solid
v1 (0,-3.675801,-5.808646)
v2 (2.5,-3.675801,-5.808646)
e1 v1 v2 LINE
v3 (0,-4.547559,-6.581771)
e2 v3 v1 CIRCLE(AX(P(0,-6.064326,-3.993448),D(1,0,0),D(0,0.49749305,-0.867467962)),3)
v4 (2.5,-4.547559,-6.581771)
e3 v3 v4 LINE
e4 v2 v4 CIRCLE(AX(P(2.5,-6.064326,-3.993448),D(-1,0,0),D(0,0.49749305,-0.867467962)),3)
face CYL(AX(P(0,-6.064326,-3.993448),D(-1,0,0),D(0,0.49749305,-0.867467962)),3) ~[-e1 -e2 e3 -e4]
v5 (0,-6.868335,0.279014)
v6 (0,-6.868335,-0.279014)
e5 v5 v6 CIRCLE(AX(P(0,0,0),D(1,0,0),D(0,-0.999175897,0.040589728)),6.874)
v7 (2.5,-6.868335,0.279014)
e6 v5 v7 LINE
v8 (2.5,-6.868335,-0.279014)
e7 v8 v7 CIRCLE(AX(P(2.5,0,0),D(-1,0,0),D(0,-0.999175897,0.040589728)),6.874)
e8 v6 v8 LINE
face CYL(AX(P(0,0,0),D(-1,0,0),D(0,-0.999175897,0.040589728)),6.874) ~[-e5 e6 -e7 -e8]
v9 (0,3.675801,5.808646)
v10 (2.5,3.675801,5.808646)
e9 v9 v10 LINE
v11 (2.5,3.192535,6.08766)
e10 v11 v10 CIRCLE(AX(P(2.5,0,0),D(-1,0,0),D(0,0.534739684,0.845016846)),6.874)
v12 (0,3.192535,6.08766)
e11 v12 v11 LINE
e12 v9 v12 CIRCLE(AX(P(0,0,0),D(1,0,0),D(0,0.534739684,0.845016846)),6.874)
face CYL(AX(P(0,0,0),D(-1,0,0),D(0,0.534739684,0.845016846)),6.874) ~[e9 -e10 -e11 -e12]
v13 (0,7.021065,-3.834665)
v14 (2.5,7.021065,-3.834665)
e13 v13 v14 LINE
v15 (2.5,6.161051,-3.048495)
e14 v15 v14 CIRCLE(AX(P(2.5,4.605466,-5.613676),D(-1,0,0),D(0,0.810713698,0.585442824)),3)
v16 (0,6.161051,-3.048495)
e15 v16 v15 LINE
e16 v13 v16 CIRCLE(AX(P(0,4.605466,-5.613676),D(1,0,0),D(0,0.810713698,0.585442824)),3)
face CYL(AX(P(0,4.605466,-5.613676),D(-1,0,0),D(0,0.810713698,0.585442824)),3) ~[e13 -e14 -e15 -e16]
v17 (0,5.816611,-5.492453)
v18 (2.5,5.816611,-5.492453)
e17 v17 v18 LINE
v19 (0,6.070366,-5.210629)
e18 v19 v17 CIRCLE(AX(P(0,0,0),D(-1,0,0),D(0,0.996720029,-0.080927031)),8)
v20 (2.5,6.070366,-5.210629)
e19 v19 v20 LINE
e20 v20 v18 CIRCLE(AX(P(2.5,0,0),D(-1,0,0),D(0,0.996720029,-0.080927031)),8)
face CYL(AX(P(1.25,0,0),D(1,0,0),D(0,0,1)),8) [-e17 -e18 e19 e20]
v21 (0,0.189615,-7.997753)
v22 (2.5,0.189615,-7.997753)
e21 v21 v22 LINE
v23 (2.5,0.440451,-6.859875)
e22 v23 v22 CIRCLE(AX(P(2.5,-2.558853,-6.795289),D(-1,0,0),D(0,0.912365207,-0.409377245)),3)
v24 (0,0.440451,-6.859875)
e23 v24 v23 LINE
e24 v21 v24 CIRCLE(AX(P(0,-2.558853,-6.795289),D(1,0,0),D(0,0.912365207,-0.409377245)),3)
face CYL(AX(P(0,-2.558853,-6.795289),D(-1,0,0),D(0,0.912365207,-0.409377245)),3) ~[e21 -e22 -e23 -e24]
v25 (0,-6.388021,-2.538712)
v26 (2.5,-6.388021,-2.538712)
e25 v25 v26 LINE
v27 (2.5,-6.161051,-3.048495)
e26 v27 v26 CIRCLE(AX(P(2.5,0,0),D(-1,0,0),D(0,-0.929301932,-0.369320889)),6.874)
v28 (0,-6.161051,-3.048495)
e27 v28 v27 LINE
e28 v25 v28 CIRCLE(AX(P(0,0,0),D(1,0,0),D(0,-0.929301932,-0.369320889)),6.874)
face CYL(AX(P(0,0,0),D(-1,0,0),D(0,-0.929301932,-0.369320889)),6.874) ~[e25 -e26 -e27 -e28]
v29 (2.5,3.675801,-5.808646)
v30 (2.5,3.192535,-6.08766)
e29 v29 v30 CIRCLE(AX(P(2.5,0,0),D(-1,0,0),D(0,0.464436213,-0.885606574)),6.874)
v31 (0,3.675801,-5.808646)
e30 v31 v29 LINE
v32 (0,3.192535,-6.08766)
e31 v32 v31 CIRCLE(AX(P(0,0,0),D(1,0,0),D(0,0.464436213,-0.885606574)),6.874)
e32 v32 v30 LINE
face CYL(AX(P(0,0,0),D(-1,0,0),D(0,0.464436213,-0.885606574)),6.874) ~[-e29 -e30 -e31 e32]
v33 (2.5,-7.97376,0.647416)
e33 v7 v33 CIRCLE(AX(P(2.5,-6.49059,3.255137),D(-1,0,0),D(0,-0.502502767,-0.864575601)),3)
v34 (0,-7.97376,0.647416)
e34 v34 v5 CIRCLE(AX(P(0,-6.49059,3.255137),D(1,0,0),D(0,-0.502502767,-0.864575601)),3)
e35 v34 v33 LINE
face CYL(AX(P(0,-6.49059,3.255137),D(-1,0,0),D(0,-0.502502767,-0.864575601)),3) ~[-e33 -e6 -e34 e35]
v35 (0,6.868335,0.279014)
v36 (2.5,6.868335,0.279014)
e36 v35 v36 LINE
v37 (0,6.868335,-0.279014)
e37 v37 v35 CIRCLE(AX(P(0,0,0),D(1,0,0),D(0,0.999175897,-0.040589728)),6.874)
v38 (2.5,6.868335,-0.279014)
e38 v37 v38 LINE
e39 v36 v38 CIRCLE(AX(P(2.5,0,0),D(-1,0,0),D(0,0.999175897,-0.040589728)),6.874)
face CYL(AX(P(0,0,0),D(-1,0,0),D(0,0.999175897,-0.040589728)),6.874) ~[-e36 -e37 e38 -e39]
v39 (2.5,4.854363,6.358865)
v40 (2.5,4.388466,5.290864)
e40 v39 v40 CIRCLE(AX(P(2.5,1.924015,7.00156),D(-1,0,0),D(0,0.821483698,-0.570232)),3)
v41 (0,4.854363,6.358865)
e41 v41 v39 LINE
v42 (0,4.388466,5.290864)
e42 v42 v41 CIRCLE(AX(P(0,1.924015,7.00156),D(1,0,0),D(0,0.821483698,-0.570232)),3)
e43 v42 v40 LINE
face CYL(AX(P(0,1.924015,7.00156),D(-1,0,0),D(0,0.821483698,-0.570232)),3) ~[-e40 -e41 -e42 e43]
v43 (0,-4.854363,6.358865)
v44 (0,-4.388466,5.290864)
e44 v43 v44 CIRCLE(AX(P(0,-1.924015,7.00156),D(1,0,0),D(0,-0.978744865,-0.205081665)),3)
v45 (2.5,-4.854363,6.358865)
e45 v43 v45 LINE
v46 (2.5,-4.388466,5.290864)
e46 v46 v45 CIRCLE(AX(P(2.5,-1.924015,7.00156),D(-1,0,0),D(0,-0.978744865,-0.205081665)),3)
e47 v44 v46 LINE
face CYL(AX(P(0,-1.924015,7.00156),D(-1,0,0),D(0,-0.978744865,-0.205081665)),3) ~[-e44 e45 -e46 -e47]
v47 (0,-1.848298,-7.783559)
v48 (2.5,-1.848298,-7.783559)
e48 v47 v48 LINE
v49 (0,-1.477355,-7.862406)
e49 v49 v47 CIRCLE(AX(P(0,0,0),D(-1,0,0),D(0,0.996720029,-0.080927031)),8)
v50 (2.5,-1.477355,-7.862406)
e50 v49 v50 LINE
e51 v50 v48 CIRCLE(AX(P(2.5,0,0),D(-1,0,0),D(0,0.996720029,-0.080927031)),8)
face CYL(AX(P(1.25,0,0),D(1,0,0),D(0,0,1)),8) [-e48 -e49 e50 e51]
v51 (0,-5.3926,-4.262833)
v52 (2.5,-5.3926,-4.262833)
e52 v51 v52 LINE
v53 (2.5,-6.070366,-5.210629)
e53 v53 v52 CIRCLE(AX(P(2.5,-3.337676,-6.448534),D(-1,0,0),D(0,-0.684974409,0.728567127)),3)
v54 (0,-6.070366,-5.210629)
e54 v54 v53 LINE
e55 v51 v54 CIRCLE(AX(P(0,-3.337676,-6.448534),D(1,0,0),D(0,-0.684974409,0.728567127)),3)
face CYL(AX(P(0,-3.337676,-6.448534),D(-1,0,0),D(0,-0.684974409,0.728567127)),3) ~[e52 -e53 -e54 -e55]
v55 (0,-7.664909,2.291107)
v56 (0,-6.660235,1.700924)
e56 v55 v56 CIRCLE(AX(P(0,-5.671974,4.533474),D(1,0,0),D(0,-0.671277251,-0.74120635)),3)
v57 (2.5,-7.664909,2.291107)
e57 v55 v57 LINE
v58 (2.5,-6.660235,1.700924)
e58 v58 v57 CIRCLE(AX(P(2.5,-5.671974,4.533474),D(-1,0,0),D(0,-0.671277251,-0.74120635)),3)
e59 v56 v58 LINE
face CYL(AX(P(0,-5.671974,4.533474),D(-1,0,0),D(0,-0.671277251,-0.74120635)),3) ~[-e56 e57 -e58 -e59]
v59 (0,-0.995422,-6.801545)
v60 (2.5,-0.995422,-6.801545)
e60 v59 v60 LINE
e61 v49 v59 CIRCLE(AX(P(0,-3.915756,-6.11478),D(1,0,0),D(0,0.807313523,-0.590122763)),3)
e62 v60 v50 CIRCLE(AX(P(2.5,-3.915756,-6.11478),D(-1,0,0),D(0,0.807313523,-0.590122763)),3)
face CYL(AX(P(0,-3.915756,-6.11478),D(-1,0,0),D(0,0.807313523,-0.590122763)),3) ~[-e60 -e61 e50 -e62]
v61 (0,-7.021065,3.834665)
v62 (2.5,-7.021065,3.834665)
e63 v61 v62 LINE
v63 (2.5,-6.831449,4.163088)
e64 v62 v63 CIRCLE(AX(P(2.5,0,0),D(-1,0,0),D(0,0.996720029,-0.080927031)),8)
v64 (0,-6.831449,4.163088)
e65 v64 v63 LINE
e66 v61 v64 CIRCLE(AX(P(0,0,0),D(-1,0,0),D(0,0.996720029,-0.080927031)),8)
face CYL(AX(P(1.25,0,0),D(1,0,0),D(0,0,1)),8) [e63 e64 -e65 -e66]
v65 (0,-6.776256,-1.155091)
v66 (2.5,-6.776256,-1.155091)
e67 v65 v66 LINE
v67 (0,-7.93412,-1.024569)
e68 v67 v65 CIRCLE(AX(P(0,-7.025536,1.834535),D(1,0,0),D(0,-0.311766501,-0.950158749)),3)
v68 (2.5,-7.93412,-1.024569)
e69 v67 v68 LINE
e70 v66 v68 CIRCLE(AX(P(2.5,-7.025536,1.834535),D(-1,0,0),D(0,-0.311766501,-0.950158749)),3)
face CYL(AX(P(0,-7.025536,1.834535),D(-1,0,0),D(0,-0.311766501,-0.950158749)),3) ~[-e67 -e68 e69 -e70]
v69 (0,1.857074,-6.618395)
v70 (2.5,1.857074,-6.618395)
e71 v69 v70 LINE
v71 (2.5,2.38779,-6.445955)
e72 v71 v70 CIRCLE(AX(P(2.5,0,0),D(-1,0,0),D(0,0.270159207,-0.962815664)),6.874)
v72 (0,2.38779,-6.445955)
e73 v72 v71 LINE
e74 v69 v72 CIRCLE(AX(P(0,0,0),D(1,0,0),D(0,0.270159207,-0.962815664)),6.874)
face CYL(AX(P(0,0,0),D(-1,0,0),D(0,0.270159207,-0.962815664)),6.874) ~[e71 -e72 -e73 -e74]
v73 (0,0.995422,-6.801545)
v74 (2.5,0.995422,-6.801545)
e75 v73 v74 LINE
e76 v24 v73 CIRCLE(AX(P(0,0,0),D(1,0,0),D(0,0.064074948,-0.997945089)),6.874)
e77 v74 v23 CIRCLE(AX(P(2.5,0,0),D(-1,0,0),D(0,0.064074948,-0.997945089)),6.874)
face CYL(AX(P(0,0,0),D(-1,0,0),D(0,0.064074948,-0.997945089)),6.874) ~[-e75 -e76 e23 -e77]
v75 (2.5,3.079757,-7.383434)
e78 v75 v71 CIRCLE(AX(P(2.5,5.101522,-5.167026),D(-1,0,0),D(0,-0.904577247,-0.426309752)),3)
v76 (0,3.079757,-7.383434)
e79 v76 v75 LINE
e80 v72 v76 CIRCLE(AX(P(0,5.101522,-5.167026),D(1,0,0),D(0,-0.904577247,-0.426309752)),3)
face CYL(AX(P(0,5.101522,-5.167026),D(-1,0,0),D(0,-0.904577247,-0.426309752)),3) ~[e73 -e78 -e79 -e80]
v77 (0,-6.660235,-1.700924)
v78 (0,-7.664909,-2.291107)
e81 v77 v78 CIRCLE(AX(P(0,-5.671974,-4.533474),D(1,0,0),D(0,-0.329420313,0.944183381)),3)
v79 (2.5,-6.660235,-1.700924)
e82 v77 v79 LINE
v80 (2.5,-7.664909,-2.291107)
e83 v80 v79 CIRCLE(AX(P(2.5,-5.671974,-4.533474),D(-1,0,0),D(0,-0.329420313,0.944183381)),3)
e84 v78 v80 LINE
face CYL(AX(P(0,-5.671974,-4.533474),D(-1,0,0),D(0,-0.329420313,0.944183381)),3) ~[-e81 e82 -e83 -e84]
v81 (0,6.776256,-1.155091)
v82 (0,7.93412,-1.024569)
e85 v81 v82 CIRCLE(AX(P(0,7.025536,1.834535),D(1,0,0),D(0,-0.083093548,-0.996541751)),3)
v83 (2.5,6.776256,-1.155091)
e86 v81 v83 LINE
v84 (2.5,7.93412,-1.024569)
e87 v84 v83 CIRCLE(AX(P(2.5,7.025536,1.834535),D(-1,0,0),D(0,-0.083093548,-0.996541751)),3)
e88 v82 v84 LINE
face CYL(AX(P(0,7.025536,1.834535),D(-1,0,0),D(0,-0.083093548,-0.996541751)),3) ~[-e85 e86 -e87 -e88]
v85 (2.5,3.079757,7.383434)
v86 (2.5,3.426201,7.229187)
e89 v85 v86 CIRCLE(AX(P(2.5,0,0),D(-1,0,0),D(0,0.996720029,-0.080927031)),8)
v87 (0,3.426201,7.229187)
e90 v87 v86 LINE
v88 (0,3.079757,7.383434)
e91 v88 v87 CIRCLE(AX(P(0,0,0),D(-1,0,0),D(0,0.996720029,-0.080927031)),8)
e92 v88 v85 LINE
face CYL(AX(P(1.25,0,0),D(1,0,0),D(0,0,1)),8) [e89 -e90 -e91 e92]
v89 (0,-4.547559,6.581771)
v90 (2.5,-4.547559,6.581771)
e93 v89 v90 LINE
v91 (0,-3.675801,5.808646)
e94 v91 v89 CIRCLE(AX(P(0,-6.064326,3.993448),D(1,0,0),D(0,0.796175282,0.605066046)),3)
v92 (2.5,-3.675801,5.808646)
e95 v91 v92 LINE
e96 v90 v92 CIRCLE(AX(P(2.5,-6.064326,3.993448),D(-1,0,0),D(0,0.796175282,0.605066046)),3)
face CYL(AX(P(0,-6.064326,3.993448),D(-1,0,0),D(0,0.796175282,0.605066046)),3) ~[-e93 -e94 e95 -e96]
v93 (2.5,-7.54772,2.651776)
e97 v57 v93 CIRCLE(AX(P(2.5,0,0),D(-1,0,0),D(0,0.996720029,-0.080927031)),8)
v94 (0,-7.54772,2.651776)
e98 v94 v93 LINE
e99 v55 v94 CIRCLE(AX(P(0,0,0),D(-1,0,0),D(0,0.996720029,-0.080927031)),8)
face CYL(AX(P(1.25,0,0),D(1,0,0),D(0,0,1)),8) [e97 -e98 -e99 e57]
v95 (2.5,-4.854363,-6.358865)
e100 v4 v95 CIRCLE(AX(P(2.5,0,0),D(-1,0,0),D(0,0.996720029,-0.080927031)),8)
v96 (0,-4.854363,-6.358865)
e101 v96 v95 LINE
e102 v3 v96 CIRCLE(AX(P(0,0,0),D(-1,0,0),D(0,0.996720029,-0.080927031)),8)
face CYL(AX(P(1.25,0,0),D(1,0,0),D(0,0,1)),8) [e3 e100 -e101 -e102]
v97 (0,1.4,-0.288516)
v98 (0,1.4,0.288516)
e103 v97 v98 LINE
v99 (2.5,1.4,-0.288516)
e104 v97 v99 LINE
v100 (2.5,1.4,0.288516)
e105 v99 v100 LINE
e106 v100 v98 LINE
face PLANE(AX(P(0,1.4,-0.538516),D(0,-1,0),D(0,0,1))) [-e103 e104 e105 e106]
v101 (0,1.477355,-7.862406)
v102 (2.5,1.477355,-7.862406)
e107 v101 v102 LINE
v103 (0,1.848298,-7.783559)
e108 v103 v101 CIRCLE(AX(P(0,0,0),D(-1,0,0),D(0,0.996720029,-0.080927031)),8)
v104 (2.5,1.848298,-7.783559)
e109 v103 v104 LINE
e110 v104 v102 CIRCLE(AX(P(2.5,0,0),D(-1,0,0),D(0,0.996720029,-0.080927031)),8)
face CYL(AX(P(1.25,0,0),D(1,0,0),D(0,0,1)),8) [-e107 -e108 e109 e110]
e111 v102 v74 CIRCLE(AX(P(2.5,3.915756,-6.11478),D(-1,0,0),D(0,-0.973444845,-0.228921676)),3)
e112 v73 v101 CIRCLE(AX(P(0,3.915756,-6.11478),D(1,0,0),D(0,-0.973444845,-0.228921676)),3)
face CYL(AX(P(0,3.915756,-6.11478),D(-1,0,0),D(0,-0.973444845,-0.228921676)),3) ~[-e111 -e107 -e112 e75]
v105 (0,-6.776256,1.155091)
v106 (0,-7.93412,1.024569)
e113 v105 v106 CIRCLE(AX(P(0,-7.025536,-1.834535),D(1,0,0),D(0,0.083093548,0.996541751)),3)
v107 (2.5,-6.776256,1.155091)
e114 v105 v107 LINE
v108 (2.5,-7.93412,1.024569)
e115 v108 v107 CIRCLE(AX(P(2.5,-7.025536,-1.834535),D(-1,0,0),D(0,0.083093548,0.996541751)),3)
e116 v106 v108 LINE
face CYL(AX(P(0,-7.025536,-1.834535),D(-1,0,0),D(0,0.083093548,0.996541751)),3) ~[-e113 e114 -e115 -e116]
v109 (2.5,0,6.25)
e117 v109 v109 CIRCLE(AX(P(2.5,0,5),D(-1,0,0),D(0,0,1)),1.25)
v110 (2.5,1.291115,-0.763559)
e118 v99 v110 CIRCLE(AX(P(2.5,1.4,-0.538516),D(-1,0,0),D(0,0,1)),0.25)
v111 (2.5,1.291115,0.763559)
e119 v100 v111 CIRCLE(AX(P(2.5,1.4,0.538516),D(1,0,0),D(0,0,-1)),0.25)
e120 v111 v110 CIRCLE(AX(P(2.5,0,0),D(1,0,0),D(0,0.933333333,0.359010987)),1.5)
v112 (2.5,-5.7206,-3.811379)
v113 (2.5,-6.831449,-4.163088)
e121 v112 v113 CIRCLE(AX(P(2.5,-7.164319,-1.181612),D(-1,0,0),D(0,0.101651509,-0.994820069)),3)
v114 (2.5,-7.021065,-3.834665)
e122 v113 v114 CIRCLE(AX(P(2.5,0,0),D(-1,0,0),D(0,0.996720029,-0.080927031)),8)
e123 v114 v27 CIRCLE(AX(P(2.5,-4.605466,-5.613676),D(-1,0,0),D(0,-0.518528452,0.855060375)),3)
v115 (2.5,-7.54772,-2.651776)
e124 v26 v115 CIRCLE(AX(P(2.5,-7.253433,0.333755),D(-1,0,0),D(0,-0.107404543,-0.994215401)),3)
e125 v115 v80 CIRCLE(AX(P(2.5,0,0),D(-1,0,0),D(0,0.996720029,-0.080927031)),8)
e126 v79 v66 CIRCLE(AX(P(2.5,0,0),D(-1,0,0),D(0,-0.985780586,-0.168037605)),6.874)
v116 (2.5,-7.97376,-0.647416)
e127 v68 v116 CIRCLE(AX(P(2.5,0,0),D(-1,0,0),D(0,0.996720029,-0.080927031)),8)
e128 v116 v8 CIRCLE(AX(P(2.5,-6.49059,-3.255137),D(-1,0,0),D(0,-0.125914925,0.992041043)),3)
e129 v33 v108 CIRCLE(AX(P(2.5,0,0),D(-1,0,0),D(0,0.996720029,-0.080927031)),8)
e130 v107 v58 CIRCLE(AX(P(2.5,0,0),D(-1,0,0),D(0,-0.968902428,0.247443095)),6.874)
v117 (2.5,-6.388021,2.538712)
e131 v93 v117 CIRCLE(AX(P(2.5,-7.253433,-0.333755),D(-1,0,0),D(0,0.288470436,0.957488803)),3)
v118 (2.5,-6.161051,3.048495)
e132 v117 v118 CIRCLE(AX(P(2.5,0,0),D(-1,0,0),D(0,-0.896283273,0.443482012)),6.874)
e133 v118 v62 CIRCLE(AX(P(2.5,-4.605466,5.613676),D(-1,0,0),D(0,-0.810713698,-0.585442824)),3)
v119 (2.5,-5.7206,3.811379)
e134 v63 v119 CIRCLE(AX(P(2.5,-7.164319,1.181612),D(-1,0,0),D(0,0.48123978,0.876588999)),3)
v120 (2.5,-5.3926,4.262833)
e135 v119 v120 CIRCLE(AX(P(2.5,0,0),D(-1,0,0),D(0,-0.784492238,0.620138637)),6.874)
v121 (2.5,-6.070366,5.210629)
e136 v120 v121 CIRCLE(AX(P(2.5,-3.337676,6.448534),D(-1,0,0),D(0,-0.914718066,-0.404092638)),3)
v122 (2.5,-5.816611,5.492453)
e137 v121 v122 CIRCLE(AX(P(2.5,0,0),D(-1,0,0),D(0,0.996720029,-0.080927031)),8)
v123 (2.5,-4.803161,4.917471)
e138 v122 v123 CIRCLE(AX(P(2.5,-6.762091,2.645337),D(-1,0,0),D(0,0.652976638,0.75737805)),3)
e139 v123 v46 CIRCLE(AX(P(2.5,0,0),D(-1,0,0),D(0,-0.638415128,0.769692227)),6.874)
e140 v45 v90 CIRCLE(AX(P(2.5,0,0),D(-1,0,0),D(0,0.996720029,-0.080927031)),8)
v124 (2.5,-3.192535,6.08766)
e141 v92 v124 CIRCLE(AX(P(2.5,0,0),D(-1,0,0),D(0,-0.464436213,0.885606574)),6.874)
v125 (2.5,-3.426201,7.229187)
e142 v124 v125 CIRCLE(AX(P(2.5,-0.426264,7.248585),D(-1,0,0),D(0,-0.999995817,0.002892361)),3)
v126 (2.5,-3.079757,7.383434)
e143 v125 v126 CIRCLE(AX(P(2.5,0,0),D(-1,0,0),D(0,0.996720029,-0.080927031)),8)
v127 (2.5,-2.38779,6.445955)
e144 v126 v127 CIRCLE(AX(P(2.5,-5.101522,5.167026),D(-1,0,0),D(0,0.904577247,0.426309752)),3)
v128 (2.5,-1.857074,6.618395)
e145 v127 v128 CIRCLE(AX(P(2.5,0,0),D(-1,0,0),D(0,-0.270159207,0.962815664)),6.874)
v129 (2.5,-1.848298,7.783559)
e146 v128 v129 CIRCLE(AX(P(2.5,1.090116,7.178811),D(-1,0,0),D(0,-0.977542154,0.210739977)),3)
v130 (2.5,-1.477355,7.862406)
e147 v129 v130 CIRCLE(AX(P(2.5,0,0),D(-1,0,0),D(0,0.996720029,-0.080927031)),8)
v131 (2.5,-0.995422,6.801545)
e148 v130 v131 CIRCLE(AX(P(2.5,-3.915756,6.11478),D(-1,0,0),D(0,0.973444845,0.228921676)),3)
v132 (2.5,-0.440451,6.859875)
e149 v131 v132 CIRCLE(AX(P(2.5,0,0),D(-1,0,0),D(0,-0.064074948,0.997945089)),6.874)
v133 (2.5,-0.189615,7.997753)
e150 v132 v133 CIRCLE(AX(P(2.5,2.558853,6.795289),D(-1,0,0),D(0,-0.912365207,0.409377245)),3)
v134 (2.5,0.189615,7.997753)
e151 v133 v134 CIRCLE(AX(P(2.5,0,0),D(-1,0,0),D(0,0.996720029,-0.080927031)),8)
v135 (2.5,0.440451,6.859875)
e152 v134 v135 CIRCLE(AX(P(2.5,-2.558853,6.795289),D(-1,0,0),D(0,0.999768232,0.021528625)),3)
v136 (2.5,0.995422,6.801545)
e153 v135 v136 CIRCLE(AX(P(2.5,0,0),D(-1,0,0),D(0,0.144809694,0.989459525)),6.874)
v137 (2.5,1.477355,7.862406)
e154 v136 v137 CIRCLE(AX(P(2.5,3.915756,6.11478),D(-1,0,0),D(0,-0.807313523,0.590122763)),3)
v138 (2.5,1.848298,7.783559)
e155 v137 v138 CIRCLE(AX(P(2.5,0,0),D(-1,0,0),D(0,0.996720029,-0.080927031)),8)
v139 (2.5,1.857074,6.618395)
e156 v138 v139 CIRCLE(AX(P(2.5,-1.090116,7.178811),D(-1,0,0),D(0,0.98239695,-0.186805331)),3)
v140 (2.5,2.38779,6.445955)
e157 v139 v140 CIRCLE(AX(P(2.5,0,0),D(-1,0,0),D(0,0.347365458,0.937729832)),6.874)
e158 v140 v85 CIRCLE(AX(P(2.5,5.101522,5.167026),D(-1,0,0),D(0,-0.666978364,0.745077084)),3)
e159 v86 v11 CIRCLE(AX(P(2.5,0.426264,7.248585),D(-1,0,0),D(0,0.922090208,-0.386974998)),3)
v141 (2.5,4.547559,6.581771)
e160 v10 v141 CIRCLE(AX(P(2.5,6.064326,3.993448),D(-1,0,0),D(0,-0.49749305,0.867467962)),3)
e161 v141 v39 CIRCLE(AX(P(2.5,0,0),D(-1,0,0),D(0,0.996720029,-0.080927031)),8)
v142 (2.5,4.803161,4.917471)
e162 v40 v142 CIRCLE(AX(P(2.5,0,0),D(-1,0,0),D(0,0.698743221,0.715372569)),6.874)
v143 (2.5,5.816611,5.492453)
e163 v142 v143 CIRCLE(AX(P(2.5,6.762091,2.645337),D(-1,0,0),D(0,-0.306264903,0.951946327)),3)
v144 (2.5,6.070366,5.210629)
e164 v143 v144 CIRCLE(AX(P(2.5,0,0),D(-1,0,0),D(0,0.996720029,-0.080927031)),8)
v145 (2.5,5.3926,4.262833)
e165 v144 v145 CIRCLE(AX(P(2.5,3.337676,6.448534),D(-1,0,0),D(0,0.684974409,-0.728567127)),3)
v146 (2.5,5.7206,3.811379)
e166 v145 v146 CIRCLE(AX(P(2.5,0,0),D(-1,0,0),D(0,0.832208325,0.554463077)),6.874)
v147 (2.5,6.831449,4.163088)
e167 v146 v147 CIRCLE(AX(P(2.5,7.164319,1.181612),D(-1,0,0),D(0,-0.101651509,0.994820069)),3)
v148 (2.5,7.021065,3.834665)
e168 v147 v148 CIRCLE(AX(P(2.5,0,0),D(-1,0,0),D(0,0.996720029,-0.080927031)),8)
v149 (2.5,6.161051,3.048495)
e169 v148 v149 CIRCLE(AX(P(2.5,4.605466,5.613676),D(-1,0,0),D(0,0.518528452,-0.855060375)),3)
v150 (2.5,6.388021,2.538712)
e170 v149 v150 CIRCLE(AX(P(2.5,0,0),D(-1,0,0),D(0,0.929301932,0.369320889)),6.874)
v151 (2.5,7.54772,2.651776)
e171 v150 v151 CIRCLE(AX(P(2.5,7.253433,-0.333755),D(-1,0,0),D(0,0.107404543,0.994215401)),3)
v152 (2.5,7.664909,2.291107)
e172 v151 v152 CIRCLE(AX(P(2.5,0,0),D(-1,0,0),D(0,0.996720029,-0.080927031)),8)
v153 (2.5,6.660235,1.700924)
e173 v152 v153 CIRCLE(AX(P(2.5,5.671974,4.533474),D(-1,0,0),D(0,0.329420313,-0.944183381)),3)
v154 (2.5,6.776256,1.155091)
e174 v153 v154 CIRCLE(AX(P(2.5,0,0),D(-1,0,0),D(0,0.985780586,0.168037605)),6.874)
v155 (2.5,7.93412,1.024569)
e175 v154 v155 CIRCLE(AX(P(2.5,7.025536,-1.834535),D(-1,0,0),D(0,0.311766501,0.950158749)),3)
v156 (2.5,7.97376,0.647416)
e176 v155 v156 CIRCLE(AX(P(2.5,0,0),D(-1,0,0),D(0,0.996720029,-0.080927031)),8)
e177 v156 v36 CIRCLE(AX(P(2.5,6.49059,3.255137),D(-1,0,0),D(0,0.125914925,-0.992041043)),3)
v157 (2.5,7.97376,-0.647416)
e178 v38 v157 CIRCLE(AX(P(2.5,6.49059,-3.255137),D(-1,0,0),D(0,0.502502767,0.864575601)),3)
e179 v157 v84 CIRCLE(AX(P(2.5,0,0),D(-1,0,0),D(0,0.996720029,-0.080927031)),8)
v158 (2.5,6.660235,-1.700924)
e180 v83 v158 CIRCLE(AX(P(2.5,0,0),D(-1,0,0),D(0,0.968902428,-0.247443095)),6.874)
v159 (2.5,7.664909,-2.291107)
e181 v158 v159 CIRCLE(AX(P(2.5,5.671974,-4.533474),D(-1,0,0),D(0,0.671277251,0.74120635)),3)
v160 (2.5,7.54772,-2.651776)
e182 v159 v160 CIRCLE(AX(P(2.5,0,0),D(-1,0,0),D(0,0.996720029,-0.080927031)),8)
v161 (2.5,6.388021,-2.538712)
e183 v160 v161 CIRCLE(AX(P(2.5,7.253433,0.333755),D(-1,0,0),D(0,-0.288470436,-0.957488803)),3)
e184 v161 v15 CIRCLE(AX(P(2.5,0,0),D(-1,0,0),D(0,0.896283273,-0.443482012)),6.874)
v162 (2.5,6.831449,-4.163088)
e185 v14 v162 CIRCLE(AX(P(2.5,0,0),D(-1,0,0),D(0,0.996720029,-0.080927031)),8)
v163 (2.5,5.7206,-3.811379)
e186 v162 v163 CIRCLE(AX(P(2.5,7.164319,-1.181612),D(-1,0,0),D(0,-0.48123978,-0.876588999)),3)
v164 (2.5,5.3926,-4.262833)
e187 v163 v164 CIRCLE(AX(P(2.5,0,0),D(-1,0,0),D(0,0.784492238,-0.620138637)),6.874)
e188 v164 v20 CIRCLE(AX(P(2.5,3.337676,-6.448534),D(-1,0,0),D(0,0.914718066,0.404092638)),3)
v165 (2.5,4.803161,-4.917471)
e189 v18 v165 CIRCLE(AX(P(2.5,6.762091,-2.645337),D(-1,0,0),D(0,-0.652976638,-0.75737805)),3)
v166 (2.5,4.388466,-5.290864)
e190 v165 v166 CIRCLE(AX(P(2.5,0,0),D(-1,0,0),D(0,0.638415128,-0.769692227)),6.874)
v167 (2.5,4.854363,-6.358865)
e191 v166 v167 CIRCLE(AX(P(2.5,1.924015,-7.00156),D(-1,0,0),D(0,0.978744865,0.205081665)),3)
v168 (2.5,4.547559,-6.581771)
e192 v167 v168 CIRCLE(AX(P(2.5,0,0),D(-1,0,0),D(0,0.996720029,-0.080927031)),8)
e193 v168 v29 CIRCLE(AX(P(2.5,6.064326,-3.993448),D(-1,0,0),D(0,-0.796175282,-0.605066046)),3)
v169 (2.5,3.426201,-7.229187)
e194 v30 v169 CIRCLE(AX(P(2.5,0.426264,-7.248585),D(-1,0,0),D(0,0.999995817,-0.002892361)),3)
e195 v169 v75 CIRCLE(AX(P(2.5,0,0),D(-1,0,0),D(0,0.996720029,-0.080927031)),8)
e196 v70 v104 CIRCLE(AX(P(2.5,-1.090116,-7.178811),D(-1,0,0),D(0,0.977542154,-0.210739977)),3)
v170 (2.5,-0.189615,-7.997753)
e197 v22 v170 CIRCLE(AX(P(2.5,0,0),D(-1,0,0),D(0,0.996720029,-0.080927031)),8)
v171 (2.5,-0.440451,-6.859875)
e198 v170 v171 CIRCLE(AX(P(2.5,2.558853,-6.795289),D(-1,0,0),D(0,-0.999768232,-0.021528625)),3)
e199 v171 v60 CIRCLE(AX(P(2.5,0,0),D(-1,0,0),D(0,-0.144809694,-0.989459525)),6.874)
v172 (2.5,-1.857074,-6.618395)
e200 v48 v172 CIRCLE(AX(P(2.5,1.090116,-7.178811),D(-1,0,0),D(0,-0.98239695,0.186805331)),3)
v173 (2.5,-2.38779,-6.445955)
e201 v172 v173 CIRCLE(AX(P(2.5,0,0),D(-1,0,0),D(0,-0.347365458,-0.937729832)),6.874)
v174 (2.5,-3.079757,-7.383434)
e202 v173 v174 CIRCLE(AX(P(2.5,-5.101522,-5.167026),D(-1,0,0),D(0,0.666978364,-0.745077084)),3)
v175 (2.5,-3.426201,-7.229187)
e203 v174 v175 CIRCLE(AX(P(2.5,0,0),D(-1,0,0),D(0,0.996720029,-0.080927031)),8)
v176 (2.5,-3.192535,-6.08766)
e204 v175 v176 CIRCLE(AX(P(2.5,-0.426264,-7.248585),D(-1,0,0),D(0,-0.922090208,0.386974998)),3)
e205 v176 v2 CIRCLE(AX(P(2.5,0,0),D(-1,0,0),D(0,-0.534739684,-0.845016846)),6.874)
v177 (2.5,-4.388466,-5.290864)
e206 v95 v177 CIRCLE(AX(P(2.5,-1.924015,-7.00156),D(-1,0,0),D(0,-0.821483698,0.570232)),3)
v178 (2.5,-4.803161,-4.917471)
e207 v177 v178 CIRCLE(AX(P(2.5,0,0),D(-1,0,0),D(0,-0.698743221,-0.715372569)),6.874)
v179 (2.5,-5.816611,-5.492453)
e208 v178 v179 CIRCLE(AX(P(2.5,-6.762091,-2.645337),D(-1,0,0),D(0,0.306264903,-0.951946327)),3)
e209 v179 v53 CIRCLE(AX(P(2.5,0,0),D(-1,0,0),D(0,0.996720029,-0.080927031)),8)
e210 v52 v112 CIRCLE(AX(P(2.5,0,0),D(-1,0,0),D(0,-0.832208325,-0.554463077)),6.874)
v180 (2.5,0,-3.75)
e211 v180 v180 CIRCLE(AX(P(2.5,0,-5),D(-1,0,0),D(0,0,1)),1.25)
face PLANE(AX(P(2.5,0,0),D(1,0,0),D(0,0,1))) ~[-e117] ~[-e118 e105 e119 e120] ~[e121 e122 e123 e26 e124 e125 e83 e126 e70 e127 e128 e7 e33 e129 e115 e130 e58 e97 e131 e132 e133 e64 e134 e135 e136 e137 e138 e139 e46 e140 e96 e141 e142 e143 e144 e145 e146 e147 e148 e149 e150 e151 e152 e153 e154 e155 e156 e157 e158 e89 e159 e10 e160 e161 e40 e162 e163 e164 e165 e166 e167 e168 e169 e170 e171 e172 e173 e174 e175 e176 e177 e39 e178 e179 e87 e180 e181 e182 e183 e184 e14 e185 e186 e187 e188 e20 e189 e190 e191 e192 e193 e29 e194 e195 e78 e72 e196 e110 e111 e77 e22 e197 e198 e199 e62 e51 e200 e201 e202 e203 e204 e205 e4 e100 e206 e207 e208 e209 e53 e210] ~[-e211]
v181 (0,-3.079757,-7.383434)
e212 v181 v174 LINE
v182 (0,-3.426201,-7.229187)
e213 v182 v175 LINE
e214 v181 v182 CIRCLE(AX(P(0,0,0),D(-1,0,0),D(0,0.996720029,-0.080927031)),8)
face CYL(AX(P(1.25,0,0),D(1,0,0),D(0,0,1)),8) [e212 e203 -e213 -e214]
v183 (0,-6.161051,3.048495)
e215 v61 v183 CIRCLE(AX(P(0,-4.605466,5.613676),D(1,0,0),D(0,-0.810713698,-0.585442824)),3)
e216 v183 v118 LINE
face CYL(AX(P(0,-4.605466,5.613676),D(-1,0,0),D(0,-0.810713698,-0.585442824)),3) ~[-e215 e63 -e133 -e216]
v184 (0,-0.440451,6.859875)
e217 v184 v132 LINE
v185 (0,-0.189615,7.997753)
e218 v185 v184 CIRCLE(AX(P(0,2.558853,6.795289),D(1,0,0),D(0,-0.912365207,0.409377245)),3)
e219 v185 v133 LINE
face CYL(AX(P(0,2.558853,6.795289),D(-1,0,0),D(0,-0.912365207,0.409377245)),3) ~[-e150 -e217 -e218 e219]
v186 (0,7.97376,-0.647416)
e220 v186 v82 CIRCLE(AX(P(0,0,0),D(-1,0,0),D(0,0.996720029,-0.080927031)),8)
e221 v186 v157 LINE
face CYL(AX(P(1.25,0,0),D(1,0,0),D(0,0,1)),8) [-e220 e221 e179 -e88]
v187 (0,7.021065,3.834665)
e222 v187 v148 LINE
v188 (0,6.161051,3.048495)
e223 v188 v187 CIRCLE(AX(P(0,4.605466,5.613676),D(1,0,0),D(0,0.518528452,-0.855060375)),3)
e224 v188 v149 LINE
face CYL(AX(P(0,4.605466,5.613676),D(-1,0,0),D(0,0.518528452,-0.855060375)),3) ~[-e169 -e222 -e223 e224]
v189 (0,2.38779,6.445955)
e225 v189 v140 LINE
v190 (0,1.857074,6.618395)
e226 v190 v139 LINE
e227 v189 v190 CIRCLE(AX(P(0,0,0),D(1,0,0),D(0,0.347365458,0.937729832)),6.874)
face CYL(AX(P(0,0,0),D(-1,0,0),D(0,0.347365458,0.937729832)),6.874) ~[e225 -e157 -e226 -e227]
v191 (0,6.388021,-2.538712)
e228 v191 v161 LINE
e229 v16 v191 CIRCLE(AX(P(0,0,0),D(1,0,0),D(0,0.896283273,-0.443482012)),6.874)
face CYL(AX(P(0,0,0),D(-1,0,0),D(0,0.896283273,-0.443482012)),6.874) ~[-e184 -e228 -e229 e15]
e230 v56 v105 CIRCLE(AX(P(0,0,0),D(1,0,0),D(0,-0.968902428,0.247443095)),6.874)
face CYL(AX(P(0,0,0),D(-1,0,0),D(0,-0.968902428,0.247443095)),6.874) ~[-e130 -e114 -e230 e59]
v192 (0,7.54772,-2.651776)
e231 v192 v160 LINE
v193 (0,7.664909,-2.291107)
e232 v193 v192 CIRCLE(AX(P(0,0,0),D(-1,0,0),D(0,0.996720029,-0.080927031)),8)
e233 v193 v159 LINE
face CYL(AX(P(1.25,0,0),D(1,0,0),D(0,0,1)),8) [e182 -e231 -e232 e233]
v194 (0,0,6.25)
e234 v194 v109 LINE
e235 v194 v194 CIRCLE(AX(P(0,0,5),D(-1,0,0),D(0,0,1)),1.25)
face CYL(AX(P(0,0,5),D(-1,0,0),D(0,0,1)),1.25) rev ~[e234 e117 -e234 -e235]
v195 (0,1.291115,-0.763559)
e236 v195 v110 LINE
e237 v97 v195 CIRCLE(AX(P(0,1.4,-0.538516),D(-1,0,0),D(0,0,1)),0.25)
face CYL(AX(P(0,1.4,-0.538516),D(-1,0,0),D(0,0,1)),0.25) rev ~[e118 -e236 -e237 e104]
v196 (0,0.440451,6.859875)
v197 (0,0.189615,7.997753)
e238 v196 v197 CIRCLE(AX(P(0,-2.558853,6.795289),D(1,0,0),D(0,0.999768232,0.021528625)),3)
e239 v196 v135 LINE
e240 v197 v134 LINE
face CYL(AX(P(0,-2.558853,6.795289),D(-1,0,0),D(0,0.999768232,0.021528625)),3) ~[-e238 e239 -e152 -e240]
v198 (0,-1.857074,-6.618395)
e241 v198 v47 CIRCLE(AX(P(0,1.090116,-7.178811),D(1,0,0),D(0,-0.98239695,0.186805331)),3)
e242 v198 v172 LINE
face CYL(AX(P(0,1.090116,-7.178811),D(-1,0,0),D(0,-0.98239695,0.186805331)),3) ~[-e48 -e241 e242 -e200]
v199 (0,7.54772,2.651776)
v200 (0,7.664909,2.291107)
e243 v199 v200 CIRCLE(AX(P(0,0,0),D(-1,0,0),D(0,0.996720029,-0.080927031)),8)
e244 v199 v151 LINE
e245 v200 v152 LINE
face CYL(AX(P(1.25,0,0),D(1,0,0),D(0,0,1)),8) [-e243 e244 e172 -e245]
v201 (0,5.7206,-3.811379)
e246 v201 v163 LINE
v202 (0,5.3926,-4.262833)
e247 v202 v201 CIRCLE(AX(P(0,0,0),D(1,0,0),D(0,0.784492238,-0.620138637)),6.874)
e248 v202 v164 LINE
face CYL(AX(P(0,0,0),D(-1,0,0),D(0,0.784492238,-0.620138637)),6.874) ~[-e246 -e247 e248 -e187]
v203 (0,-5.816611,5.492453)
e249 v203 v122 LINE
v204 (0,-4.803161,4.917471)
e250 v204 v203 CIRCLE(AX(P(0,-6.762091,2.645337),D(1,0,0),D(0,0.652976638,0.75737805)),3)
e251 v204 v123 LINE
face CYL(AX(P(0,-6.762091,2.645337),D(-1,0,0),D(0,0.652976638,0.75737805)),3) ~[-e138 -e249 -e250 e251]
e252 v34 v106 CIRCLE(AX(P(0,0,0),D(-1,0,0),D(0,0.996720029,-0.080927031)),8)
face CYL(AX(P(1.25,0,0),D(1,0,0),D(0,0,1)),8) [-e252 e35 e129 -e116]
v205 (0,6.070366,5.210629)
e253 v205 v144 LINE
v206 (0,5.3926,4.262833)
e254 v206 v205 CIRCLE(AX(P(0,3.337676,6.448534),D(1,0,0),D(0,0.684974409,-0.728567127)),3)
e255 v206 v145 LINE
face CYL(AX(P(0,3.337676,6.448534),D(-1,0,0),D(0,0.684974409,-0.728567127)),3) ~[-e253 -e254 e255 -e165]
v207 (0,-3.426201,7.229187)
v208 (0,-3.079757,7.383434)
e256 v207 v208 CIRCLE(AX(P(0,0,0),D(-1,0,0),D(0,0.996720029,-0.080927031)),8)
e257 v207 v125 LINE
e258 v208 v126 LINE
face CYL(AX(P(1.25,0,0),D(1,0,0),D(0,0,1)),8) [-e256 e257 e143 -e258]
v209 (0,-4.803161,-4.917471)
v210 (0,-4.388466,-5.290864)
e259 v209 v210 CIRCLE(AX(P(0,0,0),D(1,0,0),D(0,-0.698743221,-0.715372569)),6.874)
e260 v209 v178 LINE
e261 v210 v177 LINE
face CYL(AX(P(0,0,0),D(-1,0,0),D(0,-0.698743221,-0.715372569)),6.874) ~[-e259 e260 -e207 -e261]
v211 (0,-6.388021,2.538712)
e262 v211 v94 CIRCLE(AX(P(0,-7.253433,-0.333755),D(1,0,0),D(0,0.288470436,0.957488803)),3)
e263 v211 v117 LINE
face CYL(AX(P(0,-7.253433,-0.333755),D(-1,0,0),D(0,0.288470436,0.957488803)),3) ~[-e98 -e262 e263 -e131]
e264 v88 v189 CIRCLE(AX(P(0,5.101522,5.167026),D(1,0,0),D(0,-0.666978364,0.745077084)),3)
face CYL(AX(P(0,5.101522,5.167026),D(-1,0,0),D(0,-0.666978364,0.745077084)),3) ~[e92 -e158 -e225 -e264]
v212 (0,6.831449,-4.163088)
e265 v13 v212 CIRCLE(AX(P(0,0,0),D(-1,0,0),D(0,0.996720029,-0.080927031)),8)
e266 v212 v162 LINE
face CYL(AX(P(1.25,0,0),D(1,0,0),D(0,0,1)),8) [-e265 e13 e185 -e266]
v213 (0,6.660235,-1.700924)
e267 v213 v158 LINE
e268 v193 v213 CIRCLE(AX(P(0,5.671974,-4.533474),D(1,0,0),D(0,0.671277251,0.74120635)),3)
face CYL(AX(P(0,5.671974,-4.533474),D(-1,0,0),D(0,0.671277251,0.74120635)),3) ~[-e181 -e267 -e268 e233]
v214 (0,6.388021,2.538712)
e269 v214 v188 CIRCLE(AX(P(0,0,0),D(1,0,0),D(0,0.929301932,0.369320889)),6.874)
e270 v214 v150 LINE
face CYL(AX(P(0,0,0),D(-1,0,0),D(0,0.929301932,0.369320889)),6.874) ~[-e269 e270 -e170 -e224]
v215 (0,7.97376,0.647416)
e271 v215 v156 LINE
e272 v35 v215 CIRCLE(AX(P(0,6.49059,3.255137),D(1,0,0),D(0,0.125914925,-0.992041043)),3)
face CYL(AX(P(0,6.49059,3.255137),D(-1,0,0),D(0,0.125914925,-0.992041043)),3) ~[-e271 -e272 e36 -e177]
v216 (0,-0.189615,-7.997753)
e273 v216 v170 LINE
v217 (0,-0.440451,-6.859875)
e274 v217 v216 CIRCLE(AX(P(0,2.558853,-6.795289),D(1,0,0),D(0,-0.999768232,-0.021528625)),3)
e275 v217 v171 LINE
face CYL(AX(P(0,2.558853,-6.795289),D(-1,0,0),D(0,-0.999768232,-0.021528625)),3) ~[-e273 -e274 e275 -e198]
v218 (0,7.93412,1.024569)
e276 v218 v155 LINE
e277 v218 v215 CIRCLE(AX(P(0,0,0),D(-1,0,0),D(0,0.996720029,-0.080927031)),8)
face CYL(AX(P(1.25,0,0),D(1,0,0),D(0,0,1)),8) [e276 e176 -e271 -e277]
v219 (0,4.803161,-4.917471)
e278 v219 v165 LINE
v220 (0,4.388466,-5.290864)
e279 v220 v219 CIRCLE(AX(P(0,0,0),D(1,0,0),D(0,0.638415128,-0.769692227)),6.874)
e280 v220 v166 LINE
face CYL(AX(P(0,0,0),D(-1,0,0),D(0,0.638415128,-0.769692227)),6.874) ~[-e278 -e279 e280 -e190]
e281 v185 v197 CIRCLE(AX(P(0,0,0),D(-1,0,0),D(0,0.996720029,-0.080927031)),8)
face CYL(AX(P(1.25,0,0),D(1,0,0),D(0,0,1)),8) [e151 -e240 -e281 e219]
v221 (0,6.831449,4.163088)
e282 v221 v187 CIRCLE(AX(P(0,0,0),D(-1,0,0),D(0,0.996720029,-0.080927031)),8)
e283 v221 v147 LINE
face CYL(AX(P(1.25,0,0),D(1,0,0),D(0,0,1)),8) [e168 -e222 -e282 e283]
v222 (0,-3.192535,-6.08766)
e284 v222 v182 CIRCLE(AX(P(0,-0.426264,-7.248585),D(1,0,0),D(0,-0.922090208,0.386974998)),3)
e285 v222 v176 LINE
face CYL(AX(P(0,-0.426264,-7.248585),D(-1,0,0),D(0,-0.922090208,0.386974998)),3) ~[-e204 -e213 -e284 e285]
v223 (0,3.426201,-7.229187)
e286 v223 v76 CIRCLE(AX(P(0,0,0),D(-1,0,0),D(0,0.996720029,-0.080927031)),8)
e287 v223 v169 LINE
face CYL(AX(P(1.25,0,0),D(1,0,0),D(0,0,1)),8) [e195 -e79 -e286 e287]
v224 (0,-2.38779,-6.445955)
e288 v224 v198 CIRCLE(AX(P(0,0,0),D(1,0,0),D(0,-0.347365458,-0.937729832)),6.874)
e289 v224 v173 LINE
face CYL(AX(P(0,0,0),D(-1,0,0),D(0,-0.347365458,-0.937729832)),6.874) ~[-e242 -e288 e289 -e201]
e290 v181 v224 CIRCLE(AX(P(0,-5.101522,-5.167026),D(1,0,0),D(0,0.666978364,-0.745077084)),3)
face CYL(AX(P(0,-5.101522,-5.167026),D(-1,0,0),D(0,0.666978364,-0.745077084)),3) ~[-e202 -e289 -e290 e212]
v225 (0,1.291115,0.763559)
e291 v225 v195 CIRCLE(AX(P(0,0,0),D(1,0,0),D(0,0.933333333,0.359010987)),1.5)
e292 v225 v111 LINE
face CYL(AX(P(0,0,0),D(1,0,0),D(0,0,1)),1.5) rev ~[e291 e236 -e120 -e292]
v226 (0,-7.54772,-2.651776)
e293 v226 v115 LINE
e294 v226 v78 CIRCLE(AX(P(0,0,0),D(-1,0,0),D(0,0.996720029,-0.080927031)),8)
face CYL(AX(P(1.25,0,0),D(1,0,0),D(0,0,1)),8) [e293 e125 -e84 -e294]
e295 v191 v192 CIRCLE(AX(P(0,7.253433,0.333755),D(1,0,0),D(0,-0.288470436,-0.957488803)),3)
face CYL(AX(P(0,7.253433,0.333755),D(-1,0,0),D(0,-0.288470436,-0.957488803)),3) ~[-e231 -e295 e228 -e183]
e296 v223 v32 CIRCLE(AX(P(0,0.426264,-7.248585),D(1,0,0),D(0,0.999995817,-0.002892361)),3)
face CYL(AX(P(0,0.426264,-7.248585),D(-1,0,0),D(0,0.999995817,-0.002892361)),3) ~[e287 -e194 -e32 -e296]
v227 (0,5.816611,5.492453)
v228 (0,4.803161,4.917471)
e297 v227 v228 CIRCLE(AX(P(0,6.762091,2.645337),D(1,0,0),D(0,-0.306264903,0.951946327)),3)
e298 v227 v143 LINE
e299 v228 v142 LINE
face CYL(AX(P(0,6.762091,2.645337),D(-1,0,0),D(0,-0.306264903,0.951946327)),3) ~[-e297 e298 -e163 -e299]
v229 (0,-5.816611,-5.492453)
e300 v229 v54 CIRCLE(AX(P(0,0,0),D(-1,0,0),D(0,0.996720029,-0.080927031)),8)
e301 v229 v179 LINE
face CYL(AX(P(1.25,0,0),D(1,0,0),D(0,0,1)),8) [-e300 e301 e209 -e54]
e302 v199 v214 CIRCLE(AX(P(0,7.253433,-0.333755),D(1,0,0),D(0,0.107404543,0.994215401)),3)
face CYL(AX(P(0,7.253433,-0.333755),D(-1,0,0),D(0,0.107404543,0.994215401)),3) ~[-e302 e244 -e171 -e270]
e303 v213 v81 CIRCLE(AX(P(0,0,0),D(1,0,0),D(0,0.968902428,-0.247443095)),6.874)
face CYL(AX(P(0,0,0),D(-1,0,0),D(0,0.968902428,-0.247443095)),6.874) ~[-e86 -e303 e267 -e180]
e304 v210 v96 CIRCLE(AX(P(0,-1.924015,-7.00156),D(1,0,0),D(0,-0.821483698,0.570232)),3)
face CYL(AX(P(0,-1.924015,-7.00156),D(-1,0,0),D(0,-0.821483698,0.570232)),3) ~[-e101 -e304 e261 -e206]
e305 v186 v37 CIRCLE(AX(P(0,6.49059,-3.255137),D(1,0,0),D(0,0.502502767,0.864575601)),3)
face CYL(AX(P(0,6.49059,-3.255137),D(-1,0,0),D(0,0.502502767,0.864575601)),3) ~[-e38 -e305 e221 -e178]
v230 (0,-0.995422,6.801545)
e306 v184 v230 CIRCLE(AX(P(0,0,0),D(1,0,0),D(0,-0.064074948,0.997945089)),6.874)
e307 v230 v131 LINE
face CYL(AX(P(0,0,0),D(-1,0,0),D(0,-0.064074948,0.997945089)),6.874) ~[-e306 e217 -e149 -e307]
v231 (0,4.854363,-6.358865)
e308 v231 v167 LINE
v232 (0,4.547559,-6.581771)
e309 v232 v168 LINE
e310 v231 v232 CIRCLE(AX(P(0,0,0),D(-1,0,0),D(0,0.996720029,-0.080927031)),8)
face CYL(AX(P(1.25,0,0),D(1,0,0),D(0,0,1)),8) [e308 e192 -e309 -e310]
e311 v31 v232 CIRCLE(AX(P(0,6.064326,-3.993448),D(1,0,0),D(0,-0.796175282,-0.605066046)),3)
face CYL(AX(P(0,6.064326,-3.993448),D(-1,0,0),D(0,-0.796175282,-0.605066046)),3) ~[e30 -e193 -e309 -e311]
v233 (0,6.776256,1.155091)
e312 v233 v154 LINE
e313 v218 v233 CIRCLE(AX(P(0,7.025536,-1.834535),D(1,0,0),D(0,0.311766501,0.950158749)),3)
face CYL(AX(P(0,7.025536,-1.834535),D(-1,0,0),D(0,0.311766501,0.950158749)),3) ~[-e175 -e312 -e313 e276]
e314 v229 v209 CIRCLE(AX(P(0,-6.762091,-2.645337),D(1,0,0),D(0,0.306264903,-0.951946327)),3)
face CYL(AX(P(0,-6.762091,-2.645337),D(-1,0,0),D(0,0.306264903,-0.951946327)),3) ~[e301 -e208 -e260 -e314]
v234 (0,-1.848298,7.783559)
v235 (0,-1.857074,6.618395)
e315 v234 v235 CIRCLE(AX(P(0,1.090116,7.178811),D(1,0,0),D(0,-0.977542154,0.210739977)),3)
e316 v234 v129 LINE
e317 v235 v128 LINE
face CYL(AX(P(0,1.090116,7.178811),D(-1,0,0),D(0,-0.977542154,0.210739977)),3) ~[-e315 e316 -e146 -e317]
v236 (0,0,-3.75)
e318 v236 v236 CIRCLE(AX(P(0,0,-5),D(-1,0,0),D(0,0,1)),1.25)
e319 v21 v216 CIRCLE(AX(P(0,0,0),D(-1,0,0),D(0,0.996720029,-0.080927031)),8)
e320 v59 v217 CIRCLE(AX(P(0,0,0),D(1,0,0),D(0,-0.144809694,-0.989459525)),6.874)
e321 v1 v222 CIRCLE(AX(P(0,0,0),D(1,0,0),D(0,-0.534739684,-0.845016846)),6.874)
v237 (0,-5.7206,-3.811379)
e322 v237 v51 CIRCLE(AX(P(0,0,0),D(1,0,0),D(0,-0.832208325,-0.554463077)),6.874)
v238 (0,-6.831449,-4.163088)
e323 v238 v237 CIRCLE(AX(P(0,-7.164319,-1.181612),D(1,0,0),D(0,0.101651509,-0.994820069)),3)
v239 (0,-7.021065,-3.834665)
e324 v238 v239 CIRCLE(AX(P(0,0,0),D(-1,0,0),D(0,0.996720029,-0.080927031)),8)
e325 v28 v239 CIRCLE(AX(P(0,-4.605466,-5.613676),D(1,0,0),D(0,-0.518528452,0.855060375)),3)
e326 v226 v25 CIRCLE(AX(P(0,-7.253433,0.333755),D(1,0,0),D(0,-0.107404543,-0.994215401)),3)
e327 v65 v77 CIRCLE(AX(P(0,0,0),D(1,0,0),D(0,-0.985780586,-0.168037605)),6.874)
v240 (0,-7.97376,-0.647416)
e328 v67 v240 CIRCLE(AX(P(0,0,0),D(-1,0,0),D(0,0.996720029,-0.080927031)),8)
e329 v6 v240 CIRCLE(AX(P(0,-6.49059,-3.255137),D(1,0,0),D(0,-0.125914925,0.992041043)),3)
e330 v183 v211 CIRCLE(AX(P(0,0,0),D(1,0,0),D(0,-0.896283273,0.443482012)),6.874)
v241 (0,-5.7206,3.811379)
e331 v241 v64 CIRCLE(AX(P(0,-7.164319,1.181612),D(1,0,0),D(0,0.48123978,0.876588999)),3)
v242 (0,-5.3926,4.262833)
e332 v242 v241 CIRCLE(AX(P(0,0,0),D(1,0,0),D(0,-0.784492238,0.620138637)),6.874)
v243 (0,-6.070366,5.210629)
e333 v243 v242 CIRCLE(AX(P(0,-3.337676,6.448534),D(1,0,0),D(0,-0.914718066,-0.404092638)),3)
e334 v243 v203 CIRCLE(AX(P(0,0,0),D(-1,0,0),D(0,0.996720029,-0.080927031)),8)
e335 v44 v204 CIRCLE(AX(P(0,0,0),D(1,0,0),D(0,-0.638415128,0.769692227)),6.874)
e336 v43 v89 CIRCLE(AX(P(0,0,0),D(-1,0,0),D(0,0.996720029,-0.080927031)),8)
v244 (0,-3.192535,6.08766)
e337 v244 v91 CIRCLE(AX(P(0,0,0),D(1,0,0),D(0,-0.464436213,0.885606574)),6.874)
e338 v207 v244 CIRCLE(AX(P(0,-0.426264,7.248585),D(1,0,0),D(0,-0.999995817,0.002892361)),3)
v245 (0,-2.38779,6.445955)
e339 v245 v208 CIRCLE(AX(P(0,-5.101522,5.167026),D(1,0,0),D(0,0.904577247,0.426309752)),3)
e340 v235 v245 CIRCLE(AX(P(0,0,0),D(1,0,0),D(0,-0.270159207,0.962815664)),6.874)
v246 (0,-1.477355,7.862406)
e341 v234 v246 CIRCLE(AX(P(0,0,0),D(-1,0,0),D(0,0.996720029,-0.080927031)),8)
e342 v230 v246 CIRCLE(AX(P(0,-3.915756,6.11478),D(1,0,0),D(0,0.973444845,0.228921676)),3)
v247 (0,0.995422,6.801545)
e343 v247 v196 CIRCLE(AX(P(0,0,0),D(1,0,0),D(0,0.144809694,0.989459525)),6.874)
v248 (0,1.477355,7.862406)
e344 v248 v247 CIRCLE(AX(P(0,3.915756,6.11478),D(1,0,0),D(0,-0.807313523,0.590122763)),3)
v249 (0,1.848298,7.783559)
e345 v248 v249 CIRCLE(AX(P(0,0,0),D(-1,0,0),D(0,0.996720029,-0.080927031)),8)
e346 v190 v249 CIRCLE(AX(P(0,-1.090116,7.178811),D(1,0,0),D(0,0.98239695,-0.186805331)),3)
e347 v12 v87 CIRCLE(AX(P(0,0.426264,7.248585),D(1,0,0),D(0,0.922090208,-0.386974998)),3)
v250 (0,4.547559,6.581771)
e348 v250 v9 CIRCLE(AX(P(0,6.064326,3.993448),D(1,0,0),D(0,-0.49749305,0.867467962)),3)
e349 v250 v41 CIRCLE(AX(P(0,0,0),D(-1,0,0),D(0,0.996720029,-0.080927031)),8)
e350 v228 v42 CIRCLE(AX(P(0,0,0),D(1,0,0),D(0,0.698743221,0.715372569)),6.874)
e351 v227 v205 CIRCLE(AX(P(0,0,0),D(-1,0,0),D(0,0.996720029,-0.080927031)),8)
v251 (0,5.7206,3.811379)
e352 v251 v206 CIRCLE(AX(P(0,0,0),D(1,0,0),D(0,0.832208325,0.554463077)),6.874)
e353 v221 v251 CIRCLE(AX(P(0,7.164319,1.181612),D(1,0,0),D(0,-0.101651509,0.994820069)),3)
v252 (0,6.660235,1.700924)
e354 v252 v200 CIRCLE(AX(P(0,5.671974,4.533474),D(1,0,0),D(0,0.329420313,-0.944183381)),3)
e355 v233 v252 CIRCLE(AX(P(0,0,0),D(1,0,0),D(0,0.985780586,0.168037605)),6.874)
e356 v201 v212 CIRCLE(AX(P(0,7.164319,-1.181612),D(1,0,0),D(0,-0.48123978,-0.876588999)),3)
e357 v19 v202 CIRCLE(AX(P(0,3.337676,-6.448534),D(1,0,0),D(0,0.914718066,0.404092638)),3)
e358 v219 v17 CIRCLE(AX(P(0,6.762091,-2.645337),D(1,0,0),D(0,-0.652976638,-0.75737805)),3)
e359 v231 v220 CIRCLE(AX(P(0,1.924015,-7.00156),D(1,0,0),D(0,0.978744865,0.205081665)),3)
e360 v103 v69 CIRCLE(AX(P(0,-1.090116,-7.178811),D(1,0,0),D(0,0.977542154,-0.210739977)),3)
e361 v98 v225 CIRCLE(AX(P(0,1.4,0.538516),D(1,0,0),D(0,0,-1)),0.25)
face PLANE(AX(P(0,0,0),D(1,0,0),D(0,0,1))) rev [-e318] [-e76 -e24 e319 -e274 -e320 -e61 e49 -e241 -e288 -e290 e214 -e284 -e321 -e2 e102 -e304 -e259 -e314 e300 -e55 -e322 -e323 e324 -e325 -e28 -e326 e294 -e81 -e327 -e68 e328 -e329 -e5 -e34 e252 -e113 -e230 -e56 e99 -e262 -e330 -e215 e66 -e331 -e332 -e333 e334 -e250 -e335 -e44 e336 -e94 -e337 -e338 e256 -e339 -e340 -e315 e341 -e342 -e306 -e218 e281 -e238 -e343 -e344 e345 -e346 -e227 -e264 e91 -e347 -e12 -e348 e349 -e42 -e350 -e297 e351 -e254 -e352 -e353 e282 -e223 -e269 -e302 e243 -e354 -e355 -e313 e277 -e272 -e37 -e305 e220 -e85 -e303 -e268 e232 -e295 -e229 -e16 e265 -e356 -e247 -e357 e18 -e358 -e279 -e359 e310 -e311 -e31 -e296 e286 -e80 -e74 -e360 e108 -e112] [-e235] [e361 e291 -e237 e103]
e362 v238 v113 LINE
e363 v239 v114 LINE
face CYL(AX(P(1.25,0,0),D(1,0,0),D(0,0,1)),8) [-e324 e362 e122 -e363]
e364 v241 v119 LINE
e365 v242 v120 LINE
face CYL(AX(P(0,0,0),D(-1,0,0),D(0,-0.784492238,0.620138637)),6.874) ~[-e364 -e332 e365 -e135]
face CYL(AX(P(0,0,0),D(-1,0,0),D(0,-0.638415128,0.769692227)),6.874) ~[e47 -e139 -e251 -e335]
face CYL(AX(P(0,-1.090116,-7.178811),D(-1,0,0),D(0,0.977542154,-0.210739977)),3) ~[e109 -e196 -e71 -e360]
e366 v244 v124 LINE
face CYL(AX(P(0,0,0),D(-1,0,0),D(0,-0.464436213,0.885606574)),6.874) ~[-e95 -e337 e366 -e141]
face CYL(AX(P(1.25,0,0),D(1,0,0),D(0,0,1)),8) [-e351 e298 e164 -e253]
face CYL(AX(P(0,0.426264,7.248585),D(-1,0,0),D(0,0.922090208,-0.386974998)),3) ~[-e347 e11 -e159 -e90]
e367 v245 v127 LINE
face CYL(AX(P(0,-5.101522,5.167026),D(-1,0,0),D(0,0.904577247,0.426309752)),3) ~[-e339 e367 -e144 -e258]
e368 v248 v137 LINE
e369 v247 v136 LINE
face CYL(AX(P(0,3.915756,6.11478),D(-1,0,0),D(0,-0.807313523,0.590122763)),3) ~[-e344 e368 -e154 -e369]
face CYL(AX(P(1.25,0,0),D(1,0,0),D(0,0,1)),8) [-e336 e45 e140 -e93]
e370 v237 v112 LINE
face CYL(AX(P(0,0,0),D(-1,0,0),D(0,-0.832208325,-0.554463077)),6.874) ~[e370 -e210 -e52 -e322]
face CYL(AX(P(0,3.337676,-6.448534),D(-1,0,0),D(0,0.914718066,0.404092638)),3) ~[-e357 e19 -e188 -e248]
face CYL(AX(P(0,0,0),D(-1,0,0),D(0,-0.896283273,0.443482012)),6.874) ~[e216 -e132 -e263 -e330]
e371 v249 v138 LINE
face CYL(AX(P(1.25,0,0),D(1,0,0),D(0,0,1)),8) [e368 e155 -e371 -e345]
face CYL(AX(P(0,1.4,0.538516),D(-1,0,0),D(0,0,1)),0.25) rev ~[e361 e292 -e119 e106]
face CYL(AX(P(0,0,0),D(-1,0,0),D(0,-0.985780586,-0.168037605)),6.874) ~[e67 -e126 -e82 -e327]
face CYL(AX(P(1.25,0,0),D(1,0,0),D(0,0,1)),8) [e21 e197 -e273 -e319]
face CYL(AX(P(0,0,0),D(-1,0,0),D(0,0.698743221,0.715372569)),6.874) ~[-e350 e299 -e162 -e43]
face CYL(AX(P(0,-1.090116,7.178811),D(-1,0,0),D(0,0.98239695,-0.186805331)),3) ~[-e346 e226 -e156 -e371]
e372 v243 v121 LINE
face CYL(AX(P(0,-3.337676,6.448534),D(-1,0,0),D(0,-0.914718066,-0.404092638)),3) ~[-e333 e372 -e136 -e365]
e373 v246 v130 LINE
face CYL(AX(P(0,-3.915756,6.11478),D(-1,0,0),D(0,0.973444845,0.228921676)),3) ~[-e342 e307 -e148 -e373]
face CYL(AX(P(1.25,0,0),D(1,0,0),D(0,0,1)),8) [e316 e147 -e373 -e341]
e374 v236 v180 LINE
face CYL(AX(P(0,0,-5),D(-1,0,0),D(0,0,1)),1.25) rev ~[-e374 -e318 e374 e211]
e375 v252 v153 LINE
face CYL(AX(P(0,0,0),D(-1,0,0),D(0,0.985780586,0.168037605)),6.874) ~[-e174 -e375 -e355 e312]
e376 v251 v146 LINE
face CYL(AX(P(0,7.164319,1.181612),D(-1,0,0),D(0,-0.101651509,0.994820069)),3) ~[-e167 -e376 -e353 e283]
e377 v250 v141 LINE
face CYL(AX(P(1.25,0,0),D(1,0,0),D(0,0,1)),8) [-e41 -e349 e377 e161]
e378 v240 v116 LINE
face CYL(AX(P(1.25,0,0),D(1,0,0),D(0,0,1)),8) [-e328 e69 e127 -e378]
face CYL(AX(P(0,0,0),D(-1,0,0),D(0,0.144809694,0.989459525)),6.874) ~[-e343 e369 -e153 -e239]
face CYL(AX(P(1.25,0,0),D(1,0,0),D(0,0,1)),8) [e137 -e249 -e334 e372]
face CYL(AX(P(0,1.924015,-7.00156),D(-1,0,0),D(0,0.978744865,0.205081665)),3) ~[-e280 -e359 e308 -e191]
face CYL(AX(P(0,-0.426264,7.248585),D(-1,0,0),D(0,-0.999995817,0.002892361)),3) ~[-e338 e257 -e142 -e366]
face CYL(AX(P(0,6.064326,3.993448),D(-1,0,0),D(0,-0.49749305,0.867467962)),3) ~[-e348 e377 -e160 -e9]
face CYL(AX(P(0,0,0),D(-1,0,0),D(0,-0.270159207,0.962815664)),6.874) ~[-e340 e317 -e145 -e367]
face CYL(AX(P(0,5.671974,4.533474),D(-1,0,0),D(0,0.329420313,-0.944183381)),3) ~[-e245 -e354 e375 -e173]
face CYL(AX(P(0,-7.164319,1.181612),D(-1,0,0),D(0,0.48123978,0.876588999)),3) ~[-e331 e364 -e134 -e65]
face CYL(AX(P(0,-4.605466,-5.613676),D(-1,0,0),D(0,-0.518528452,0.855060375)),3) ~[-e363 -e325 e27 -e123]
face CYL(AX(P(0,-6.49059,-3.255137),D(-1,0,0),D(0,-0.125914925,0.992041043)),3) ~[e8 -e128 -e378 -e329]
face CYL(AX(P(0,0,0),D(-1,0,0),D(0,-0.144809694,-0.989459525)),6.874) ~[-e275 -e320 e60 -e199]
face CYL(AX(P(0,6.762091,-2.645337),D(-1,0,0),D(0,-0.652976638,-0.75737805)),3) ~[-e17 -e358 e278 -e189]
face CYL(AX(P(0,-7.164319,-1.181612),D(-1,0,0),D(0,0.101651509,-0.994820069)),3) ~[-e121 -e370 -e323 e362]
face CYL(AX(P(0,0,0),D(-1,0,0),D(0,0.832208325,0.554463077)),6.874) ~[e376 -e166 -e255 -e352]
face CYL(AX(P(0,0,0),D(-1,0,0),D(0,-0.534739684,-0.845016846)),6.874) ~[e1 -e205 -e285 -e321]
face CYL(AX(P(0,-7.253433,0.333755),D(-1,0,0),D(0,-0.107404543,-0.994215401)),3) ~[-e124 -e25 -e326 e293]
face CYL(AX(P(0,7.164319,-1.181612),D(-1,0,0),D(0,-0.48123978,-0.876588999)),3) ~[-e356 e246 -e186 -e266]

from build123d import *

# Parameters (mm, degrees)
BASPROSKE_W         = 2.5
BASPROSKE_H         = 8
TOOTHCUT_DEPTH      = 12.586630226
TEETHCUTS_COUNT     = 30
TEETHCUTS_ANGLE     = 348
BORSKE_R            = 1.5
BORE_DEPTH          = 50.0000508
SKETCH_3_R          = 1.25
CUT_EXTRUDE_1_DEPTH = 12.568528524
EXTRUDE_1_DEPTH     = 2.5
SKETCH_5_R          = 0.25
CUT_EXTRUDE_2_DEPTH = 12.568528524


with BuildPart() as part:
    # BasProSke → Base-Revolve (revolve)
    with BuildSketch(Plane(origin=(0, 0, 0), x_dir=(1, 0, 0), z_dir=(0, 1, 0)), mode=Mode.PRIVATE) as base_revolve_sk:
        with Locations((1.25, 4)):
            Rectangle(BASPROSKE_W, BASPROSKE_H)
    revolve(base_revolve_sk.sketch.rotate(Axis((-10, 0, 0), (1, 0, 0)), 180), axis=Axis((-10, 0, 0), (1, 0, 0)))

    # TooCutSke → ToothCut (cut, through all)
    with BuildSketch(Plane(origin=(0, 0, 0), x_dir=(0, 0, -1), z_dir=(1, 0, 0))):
        with BuildLine():
            ThreePointArc((0.279013782, 6.868335119), (0, 6.874), (-0.279013782, 6.868335119))
            ThreePointArc((-0.279013782, 6.868335119), (-0.413500328, 7.452412324), (-0.661410108, 7.998098638))
            ThreePointArc((-0.661410108, 7.998098638), (0, 8.0254), (0.661410108, 7.998098638))
            ThreePointArc((0.661410108, 7.998098638), (0.413500328, 7.452412324), (0.279013782, 6.868335119))
        make_face()
    toothcut = extrude(amount=TOOTHCUT_DEPTH, mode=Mode.SUBTRACT)

    # TeethCuts: ToothCut ×30 about axis
    teethcuts_axis = Axis((-10, 0, 0), (1, 0, 0))
    for i in range(1, TEETHCUTS_COUNT):
        add(toothcut.rotate(teethcuts_axis, i * TEETHCUTS_ANGLE / (TEETHCUTS_COUNT - 1)), mode=Mode.SUBTRACT)

    # BorSke → Bore (cut, symmetric)
    with BuildSketch(Plane(origin=(0, 0, 0), x_dir=(0, 0, -1), z_dir=(1, 0, 0))):
        with Locations(Location((0, 0, 0), (0, 0, 180))):
            Circle(BORSKE_R)
    extrude(amount=BORE_DEPTH, both=True, mode=Mode.SUBTRACT)

    # 草图3 → 切除-拉伸1 (cut, through all)
    with BuildSketch(Plane.ZY):
        with Locations((-5, 0)):
            Circle(SKETCH_3_R)
        with Locations((5, 0)):
            Circle(SKETCH_3_R)
    extrude(amount=-CUT_EXTRUDE_1_DEPTH, mode=Mode.SUBTRACT)

    # 草图4 → 凸台-拉伸1 (add, through all)
    with BuildSketch(Plane.ZY):
        with BuildLine():
            Line((-0.538516481, 1.4), (0.538516481, 1.4))
            ThreePointArc((0.538516481, 1.4), (0, 1.5), (-0.538516481, 1.4))
        make_face()
    extrude(amount=-EXTRUDE_1_DEPTH)

    # 草图5 → 切除-拉伸2 (cut, through all)
    with BuildSketch(Plane.ZY):
        with Locations((-0.538516481, 1.4)):
            Circle(SKETCH_5_R)
        with Locations((0.538516481, 1.4)):
            Circle(SKETCH_5_R)
    extrude(amount=-CUT_EXTRUDE_2_DEPTH, mode=Mode.SUBTRACT)


solid = part.part
